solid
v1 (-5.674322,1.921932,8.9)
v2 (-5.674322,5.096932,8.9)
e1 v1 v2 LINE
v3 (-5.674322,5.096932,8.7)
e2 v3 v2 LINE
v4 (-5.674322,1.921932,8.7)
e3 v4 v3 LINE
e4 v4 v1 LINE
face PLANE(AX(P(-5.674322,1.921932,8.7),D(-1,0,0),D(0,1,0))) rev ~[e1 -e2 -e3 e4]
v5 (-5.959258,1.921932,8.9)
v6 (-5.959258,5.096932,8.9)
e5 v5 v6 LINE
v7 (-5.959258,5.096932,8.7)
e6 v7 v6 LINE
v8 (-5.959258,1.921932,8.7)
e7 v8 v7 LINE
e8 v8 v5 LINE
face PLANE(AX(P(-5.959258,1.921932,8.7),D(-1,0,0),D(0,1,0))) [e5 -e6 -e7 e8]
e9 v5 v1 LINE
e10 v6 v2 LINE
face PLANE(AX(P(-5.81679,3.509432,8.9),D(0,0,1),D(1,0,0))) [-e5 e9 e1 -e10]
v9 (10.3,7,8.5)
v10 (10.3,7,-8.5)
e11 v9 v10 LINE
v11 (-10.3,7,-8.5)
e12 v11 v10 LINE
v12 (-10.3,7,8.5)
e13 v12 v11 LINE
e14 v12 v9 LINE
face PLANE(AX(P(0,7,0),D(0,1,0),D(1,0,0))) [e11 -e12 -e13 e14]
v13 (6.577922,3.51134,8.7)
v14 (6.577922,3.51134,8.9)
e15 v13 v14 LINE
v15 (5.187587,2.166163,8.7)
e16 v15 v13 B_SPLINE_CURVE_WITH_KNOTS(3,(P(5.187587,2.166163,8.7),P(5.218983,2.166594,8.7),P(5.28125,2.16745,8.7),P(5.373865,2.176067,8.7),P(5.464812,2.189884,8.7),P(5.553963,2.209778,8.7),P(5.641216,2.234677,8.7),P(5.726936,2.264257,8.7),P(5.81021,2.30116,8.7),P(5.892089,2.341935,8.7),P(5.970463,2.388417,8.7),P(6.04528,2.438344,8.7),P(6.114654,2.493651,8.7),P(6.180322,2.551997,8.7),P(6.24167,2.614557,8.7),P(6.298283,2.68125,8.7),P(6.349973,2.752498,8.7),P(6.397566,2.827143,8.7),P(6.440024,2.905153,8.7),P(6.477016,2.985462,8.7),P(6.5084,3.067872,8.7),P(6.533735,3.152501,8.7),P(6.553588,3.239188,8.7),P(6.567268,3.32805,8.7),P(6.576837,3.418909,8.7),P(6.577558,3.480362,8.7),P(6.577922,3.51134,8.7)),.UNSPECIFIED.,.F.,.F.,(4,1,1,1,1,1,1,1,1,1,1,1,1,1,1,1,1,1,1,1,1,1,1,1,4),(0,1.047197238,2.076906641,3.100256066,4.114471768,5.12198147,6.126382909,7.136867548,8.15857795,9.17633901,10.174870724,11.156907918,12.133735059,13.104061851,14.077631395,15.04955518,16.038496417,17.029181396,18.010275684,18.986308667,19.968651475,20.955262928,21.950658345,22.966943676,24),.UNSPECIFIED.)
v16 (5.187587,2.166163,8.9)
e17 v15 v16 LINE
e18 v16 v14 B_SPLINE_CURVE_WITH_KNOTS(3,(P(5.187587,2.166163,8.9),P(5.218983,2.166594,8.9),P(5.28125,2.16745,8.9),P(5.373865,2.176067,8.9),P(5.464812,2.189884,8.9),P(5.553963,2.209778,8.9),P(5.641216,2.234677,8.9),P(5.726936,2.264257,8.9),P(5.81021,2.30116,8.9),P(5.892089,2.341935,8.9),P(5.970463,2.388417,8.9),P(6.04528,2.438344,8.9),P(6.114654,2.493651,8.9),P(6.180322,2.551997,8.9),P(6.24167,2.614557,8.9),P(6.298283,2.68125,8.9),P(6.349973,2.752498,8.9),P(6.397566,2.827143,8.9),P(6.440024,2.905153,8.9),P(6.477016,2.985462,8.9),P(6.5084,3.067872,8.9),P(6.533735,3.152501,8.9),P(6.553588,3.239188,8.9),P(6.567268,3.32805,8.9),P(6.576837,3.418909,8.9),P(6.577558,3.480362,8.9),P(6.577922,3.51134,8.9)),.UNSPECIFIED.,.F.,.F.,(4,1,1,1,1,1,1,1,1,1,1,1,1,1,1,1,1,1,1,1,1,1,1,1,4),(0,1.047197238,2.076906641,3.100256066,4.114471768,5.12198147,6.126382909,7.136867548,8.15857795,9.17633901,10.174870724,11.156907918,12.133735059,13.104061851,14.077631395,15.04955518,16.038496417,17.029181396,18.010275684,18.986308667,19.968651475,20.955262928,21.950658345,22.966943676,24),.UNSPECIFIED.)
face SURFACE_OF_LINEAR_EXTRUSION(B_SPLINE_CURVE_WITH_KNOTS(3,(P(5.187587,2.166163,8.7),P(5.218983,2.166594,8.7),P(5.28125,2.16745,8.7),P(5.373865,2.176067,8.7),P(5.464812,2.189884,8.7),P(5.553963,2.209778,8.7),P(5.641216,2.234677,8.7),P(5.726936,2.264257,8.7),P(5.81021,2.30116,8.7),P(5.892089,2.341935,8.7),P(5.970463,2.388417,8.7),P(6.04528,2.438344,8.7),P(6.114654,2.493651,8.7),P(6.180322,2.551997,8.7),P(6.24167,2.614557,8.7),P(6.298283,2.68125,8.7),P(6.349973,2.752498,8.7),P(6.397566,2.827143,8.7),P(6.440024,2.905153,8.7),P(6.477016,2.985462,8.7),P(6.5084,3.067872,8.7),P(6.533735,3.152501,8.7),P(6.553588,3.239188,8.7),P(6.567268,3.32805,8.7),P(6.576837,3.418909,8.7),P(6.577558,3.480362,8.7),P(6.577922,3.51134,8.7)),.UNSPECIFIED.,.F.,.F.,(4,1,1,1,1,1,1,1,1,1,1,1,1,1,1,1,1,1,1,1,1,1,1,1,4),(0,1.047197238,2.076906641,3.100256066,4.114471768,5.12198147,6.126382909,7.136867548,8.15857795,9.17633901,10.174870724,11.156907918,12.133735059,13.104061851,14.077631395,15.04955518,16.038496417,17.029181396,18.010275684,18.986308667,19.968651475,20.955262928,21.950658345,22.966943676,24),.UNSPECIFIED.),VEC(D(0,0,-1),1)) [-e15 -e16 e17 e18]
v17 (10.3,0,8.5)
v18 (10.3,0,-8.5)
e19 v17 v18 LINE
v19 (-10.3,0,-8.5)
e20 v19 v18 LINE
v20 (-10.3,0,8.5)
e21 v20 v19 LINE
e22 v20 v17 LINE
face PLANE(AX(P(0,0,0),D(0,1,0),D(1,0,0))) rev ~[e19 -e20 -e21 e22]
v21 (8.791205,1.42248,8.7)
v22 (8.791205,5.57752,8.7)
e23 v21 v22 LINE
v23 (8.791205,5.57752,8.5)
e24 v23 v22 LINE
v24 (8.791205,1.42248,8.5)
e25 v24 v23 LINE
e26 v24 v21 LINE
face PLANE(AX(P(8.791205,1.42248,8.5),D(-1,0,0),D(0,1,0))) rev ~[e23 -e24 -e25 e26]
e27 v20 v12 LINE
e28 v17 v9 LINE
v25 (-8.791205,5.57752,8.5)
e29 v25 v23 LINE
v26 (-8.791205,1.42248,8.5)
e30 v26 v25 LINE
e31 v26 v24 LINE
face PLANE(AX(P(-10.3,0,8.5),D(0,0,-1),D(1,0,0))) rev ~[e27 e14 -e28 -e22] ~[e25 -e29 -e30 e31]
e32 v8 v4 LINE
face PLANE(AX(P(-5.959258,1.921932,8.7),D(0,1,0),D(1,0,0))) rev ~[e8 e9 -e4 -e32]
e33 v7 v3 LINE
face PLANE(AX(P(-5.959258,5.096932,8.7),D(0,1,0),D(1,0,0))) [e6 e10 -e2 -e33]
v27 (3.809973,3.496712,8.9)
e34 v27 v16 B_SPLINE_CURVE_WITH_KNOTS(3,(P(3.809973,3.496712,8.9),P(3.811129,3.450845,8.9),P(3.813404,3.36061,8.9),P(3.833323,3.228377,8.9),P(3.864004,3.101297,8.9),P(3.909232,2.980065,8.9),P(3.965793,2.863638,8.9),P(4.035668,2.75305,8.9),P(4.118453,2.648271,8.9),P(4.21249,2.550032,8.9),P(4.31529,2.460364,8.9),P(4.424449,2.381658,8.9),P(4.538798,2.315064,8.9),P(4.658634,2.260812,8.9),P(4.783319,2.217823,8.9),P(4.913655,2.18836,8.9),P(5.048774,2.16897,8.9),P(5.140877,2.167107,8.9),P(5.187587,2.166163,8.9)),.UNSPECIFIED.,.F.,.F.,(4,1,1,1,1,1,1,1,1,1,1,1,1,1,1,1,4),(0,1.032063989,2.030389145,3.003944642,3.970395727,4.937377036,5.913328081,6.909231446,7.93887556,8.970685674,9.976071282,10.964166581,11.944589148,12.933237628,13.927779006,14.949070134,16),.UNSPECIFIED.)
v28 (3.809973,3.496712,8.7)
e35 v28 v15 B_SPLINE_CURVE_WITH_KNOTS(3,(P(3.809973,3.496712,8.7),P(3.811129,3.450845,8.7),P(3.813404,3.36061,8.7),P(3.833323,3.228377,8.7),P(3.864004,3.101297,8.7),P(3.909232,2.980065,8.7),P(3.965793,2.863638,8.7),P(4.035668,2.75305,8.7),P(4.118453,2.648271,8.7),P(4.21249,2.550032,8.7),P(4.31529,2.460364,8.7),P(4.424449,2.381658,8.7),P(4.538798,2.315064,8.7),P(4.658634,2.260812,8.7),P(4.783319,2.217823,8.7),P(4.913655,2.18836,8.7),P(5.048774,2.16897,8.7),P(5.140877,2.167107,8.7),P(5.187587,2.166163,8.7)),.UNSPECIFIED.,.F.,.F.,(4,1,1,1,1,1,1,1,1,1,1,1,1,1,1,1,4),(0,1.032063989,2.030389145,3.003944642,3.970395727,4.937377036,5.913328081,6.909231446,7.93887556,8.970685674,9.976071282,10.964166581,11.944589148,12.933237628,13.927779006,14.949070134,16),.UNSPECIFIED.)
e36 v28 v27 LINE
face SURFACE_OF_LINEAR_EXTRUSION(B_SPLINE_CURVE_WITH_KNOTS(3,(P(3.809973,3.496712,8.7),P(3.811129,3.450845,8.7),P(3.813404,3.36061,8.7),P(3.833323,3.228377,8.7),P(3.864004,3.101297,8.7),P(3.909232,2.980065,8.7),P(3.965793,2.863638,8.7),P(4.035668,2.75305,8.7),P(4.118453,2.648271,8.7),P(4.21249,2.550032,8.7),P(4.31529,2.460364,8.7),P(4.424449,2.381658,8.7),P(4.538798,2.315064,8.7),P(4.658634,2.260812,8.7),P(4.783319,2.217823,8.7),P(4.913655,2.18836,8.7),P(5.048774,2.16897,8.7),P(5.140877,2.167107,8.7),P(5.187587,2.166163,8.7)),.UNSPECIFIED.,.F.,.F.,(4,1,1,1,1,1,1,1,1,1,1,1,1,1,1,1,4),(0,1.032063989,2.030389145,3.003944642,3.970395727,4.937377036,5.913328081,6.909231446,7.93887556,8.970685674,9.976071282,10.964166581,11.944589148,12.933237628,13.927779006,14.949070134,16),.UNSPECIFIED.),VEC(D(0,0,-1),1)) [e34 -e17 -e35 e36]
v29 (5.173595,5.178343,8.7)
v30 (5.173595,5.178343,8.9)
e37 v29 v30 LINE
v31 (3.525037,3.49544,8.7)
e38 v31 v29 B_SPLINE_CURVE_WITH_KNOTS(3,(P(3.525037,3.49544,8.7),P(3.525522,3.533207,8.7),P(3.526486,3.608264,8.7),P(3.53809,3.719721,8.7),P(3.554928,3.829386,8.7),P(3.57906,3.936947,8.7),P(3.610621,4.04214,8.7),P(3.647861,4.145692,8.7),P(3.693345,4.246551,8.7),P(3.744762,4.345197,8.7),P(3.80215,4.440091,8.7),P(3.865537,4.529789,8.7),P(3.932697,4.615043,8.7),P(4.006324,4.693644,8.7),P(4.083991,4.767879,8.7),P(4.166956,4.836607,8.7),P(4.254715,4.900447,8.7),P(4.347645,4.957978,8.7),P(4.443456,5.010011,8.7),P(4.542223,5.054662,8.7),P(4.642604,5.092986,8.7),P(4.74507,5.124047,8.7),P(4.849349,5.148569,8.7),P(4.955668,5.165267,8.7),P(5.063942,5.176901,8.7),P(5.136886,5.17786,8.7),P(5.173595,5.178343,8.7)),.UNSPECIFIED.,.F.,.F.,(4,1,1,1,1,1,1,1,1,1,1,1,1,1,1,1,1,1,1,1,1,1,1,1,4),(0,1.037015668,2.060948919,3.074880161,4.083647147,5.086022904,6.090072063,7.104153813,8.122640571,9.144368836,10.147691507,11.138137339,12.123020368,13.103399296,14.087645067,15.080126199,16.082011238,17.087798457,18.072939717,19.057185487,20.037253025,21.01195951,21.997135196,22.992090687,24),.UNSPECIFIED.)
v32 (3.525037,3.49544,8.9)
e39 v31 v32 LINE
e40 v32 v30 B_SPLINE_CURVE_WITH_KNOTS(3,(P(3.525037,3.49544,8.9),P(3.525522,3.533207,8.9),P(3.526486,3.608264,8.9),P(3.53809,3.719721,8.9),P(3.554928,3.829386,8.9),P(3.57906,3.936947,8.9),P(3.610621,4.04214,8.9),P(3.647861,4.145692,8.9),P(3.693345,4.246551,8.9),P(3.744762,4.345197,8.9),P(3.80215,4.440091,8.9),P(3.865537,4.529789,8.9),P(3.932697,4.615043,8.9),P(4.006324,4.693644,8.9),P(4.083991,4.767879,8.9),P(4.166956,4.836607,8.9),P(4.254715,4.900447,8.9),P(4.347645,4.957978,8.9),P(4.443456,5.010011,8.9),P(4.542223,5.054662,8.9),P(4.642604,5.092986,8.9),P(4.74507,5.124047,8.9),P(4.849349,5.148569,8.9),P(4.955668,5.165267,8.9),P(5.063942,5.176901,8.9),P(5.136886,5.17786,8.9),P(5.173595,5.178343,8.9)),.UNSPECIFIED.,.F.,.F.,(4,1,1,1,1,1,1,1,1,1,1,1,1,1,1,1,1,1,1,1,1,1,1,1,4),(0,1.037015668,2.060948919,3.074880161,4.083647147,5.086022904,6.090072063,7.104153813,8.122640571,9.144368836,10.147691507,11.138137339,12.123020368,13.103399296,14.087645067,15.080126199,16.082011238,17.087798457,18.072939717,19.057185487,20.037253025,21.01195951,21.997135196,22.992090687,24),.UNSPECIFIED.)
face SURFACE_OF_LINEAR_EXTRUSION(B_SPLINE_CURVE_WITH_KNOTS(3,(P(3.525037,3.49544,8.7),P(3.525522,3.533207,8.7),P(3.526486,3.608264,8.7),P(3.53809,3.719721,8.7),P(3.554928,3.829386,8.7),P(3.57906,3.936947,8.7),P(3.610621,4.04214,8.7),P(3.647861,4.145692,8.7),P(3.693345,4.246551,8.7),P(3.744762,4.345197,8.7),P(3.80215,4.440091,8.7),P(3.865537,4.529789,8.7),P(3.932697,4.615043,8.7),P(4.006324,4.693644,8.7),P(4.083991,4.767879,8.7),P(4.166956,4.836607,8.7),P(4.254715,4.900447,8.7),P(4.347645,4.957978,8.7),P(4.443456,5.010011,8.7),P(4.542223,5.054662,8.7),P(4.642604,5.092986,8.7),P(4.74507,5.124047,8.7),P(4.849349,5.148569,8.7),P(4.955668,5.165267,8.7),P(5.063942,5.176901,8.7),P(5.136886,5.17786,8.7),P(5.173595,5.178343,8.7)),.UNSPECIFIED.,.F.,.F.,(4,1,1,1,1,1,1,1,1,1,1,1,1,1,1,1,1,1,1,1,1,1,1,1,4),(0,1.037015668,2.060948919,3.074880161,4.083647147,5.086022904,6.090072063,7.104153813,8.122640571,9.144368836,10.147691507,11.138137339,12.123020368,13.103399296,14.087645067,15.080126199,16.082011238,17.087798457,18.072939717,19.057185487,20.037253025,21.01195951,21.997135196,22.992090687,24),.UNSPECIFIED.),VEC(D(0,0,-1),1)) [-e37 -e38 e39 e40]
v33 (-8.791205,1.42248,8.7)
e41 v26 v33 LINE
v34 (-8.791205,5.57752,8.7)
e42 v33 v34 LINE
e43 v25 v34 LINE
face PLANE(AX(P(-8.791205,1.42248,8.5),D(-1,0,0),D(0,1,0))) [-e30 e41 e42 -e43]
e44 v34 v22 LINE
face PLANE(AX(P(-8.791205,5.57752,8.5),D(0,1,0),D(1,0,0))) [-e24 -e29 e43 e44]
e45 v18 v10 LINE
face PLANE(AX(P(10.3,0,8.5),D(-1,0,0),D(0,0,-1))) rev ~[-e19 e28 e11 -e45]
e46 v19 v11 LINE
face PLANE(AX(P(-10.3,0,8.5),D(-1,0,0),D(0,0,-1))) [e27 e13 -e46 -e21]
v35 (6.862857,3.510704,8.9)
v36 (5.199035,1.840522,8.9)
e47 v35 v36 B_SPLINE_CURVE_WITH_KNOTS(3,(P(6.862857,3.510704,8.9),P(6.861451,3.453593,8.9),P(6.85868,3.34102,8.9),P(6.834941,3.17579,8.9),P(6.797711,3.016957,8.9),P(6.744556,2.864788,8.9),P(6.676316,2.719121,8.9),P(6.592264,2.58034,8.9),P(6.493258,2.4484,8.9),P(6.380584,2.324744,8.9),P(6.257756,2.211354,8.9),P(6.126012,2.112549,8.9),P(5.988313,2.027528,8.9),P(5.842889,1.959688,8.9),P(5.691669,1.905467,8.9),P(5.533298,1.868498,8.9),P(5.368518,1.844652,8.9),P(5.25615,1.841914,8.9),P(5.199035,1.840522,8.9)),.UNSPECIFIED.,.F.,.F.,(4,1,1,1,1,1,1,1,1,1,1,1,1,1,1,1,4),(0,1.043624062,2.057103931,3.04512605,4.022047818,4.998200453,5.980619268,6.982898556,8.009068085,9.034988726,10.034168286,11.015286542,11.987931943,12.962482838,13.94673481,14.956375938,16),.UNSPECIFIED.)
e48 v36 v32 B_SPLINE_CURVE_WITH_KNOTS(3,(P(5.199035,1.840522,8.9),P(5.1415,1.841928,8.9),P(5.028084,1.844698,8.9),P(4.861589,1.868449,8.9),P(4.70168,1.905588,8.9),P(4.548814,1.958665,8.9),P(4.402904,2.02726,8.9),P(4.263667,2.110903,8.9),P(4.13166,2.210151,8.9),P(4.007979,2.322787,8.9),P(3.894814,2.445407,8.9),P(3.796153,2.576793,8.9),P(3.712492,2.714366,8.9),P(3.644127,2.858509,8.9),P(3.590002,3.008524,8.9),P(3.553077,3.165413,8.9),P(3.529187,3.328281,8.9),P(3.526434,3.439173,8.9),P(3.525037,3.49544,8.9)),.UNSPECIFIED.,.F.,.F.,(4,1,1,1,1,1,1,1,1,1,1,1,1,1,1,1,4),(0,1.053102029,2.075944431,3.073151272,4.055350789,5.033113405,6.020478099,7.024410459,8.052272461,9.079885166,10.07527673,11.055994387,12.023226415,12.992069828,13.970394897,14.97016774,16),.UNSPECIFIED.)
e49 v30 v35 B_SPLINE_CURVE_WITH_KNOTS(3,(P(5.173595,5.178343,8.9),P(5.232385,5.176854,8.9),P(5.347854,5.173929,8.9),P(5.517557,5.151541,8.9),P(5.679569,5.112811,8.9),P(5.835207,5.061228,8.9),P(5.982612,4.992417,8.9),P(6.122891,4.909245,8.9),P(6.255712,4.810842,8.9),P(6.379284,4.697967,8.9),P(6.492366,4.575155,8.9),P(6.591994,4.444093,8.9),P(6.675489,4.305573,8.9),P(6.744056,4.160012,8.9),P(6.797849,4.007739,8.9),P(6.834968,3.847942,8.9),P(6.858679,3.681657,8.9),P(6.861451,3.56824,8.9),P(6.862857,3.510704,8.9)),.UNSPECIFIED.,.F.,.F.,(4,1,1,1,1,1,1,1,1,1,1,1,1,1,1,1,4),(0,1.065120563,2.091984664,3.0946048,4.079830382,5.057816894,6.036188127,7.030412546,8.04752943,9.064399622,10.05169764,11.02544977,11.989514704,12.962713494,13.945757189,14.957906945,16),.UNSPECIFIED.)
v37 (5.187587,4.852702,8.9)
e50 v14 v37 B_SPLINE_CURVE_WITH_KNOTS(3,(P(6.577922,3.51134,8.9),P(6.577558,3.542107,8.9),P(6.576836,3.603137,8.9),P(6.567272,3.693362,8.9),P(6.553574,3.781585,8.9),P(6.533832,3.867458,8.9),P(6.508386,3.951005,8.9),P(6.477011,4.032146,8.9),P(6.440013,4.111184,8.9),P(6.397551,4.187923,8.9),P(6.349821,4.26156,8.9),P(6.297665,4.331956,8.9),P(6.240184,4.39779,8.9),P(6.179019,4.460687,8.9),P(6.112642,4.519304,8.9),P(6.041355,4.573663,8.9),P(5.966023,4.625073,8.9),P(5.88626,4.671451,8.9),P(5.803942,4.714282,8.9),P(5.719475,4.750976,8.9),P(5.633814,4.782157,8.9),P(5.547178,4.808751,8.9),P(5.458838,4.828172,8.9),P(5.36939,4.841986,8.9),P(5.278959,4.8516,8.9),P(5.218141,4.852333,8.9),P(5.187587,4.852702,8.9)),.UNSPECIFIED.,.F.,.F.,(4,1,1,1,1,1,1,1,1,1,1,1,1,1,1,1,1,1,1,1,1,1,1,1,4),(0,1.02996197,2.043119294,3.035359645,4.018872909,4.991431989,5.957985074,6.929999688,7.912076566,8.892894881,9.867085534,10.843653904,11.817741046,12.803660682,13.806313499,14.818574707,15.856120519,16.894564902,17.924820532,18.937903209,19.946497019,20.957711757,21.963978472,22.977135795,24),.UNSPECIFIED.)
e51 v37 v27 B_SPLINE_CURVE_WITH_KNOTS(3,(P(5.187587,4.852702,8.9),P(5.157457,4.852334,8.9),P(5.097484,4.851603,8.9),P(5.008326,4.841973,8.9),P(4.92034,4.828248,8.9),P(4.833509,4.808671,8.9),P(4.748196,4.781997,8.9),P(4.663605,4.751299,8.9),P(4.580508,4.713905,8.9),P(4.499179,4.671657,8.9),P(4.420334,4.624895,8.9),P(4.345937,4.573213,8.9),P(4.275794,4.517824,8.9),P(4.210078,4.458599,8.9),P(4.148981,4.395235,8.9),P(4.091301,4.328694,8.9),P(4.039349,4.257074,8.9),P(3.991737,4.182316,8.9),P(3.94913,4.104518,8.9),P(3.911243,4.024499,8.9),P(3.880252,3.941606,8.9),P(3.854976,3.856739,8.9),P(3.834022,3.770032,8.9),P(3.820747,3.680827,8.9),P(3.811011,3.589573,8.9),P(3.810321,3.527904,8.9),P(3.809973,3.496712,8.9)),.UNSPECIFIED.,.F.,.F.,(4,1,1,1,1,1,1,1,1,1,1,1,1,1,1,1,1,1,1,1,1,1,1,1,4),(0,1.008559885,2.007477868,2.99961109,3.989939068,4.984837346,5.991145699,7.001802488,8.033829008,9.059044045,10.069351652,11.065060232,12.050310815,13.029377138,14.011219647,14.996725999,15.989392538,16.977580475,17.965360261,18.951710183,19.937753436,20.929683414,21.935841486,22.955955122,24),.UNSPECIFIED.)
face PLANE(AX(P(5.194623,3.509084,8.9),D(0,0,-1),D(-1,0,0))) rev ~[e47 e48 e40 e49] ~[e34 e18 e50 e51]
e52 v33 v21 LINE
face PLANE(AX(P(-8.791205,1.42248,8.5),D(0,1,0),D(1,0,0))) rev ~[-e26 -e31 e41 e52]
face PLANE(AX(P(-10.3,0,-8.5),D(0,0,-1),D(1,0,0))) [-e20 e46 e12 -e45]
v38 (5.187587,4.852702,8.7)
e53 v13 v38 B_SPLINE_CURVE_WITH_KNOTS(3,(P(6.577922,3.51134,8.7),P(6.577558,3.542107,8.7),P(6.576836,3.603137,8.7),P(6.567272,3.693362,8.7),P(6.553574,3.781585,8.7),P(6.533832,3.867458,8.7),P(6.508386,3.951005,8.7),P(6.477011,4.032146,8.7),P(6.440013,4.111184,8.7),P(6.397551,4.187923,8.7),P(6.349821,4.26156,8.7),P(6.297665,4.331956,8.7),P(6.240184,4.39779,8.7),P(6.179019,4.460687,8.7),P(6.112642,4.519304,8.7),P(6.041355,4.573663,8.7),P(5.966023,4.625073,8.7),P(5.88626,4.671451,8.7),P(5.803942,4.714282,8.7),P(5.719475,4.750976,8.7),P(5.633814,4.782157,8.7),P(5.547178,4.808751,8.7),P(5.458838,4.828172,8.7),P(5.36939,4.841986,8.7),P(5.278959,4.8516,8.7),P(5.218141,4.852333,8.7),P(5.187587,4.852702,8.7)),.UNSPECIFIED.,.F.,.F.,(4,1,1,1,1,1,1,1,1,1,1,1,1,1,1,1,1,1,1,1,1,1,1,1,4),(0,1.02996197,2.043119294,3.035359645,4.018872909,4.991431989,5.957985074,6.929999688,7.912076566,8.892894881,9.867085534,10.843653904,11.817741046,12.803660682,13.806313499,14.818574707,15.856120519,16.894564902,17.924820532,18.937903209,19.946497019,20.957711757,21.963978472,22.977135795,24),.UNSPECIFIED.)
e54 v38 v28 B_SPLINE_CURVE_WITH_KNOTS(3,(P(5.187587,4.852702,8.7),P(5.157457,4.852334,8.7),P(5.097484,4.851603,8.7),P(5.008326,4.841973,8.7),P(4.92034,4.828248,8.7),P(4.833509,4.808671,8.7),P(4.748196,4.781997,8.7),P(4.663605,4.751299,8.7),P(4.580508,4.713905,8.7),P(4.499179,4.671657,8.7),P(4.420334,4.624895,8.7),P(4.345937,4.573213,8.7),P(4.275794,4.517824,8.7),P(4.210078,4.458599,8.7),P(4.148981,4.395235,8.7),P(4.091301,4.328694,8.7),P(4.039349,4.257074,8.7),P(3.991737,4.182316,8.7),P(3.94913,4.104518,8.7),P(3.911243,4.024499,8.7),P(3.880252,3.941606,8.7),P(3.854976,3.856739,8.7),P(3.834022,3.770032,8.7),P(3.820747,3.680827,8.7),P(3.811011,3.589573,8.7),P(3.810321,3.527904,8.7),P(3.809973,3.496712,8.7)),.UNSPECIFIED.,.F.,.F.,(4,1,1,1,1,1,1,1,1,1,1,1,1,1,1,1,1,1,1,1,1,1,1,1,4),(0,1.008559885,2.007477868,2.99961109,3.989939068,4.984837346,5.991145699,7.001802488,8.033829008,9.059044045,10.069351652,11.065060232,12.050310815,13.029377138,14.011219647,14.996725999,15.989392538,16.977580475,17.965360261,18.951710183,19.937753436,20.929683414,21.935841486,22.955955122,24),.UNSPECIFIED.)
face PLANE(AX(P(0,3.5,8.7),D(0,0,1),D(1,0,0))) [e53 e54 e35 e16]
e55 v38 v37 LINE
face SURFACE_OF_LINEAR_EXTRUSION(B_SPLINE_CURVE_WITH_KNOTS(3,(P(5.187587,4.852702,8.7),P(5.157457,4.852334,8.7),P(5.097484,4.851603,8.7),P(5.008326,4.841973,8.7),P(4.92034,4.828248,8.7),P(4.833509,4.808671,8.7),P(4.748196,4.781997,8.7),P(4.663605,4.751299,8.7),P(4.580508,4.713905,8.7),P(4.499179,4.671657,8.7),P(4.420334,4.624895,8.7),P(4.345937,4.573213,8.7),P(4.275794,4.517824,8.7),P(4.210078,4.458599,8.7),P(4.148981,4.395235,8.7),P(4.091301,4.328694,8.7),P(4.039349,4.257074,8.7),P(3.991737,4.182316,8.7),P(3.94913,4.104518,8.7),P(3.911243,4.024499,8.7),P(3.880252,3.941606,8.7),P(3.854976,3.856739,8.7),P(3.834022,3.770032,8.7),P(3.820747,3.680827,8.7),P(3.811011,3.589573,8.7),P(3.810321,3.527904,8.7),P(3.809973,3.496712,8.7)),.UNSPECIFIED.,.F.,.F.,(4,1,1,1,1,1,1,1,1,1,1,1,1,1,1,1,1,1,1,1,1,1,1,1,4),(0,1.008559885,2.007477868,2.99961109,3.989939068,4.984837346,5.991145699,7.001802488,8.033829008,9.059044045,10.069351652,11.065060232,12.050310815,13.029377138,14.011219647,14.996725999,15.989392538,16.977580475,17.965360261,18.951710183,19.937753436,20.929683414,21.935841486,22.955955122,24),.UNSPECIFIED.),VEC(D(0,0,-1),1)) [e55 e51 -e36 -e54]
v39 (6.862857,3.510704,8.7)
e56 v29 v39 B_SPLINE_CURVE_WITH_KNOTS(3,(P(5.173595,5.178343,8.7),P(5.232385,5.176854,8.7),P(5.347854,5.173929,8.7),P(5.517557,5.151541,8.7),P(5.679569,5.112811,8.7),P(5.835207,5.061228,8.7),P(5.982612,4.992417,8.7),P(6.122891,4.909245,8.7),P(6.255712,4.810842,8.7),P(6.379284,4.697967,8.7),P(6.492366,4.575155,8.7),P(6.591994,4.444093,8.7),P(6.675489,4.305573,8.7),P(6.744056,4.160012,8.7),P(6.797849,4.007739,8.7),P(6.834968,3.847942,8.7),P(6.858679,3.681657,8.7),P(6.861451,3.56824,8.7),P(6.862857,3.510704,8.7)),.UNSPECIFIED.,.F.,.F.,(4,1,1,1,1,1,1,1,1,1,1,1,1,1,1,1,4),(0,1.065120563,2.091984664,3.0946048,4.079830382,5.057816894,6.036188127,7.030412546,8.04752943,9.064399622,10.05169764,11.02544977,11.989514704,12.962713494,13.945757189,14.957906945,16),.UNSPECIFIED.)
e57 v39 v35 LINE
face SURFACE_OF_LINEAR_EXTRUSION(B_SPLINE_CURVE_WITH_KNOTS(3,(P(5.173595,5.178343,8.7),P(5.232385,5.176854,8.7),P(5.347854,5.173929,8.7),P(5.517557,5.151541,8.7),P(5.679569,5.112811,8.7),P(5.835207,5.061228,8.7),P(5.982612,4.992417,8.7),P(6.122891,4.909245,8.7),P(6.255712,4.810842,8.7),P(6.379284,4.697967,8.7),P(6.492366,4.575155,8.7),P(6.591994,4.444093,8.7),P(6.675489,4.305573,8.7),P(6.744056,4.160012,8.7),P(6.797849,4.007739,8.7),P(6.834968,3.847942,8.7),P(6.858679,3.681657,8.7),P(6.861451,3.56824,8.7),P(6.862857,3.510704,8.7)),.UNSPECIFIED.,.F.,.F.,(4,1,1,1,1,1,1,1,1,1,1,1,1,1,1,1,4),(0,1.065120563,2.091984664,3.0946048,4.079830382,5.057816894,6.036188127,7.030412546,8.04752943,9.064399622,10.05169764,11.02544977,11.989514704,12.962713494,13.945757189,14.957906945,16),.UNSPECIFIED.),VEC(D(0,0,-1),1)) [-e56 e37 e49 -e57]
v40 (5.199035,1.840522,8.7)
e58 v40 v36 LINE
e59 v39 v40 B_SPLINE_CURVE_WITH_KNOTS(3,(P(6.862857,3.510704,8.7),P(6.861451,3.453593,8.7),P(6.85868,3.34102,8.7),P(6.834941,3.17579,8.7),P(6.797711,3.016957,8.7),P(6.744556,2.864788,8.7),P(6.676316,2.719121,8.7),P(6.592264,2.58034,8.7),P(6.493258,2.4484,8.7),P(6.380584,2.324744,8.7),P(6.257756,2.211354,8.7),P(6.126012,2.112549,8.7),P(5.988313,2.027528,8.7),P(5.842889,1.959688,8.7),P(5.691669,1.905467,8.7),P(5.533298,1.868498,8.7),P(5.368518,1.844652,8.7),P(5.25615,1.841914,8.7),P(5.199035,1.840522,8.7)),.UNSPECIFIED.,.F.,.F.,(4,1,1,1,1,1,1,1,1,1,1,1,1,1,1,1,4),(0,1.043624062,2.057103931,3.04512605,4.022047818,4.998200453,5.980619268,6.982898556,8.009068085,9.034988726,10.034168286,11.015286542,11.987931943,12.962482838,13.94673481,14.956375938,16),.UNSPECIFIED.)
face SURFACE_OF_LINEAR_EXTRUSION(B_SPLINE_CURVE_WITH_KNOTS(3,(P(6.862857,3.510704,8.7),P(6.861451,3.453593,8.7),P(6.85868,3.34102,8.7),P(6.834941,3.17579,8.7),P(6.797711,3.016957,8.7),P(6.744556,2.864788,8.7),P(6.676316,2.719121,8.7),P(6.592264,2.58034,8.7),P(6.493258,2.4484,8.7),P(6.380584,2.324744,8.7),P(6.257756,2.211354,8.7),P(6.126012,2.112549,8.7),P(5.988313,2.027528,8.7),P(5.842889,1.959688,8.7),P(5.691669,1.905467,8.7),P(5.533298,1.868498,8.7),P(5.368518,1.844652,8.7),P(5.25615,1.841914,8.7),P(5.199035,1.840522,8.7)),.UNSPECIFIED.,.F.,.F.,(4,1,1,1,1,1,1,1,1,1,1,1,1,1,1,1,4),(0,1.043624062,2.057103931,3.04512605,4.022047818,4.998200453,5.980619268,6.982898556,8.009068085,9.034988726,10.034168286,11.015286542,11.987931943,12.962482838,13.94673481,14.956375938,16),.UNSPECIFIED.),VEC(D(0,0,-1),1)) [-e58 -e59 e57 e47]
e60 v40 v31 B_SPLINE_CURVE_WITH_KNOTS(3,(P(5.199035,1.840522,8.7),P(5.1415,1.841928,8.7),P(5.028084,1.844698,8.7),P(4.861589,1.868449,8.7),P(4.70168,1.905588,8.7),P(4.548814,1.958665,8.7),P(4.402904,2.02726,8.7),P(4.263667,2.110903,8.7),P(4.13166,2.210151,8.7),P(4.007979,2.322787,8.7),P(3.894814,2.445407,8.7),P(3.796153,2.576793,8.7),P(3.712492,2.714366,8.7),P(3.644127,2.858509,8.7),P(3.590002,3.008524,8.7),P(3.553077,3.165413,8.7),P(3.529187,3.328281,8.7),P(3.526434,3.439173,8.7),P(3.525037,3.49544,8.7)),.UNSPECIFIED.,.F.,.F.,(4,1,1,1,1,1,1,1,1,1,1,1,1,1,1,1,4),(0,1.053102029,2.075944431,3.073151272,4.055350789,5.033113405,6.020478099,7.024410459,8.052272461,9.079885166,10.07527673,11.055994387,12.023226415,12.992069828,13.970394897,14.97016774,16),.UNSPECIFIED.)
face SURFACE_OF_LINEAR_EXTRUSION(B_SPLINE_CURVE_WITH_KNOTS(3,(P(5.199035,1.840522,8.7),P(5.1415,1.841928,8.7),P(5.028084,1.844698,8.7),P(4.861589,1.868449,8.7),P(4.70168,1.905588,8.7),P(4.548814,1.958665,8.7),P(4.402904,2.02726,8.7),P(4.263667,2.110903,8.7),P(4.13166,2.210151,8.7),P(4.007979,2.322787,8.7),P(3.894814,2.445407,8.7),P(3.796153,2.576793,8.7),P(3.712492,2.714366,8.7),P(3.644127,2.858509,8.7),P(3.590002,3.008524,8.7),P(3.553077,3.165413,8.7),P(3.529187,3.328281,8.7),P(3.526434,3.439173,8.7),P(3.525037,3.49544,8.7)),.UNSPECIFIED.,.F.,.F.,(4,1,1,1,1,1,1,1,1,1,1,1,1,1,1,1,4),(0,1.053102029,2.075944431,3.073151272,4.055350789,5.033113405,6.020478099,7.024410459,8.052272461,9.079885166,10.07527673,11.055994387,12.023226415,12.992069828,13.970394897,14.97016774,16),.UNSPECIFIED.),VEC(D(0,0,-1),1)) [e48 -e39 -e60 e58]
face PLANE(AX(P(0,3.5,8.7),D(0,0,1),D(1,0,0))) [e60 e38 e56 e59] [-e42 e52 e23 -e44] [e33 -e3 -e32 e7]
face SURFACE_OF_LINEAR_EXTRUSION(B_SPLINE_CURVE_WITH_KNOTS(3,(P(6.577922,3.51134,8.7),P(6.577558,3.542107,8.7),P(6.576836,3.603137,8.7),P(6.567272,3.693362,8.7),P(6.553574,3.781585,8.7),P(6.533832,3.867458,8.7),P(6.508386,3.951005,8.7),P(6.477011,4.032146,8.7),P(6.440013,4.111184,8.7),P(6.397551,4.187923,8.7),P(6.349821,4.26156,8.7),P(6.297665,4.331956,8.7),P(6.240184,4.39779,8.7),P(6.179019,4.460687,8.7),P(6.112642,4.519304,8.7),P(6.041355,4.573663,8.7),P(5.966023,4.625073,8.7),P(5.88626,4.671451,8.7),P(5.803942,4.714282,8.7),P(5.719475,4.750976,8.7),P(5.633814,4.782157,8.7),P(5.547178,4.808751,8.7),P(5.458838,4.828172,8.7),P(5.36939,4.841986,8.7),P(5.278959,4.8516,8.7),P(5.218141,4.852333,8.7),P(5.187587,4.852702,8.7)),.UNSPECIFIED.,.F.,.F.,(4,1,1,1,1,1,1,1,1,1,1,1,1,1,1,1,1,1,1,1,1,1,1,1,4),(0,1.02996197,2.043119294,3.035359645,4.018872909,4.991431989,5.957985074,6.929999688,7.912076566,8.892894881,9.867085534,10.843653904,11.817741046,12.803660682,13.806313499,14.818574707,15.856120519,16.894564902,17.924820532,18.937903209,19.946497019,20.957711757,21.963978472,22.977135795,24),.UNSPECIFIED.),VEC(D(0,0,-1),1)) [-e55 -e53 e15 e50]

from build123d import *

# Parameters (mm, degrees)
SKETCH1_W           = 20.6
SKETCH1_H           = 17
BOSS_EXTRUDE1_DEPTH = 7
SKETCH2_W           = 17.582410578
SKETCH2_H           = 4.15503942
BOSS_EXTRUDE2_DEPTH = 0.2
SKETCH3_W           = 0.284935897
SKETCH3_H           = 3.175
BOSS_EXTRUDE3_DEPTH = 0.2


with BuildPart() as part:
    # Sketch1 → Boss-Extrude1 (new body)
    with BuildSketch(Plane(origin=(0, 0, 0), x_dir=(1, 0, 0), z_dir=(0, 1, 0))):
        Rectangle(SKETCH1_W, SKETCH1_H)
    extrude(amount=BOSS_EXTRUDE1_DEPTH)

    # Sketch2 → Boss-Extrude2 (add)
    with BuildSketch(Plane.XY.offset(8.5)):
        with Locations((0, 3.5)):
            Rectangle(SKETCH2_W, SKETCH2_H)
    extrude(amount=BOSS_EXTRUDE2_DEPTH)

    # Sketch3 → Boss-Extrude3 (add)
    # profile 1 of 2: a face of its own
    with BuildSketch(Plane.XY.offset(8.7)):
        with Locations((-5.816789994, 3.509432337)):
            Rectangle(SKETCH3_W, SKETCH3_H)
    # profile 2 of 2: a face of its own
    with BuildSketch(Plane.XY.offset(8.7)):
        with BuildLine():
            add(Edge.make_bspline(
                [(5.173594622, 5.178342594), (5.232384832, 5.176853538), (5.347853656, 5.173928908), (5.517557313, 5.151541436), (5.679568578, 5.112810618), (5.835207204, 5.061227769), (5.982611547, 4.992417005), (6.122891114, 4.909245478), (6.255712135, 4.810841833), (6.379284388, 4.697966749), (6.492366051, 4.575154616), (6.591993819, 4.444092511), (6.675489328, 4.305572884), (6.744056435, 4.160011987), (6.797848745, 4.007739016), (6.834968163, 3.847942171), (6.8586792, 3.681656816), (6.861451226, 3.568239589), (6.862857443, 3.510704373)],
                knots=[0, 0, 0, 0, 1.065120563, 2.091984664, 3.0946048, 4.079830382, 5.057816894, 6.036188127, 7.030412546, 8.04752943, 9.064399622, 10.05169764, 11.02544977, 11.989514704, 12.962713494, 13.945757189, 14.957906945, 16, 16, 16, 16], degree=3))
            add(Edge.make_bspline(
                [(6.862857443, 3.510704373), (6.861451432, 3.453592975), (6.858680023, 3.341019794), (6.834941204, 3.175789669), (6.797711154, 3.016957394), (6.744555969, 2.864788124), (6.676315714, 2.719121334), (6.592264237, 2.580340311), (6.493257568, 2.448399559), (6.38058421, 2.324744499), (6.257756122, 2.211353936), (6.126011523, 2.112548956), (5.988313297, 2.027527786), (5.84288949, 1.95968831), (5.691668742, 1.905466639), (5.533297635, 1.868498182), (5.368518261, 1.844652079), (5.256149565, 1.841913853), (5.199035327, 1.840522081)],
                knots=[0, 0, 0, 0, 1.043624062, 2.057103931, 3.04512605, 4.022047818, 4.998200453, 5.980619268, 6.982898556, 8.009068085, 9.034988726, 10.034168286, 11.015286542, 11.987931943, 12.962482838, 13.94673481, 14.956375938, 16, 16, 16, 16], degree=3))
            add(Edge.make_bspline(
                [(5.199035327, 1.840522081), (5.141500409, 1.841927596), (5.028083771, 1.844698241), (4.86158946, 1.868448515), (4.701680364, 1.905588127), (4.548813774, 1.958664544), (4.402904445, 2.027260174), (4.263667012, 2.110902718), (4.131660357, 2.210150625), (4.007978916, 2.322787446), (3.894813572, 2.445407354), (3.796153281, 2.576792714), (3.712491928, 2.714365878), (3.64412662, 2.858508632), (3.590002431, 3.008524155), (3.553077346, 3.165413131), (3.529186876, 3.328281112), (3.526433836, 3.439172884), (3.52503693, 3.49543995)],
                knots=[0, 0, 0, 0, 1.053102029, 2.075944431, 3.073151272, 4.055350789, 5.033113405, 6.020478099, 7.024410459, 8.052272461, 9.079885166, 10.07527673, 11.055994387, 12.023226415, 12.992069828, 13.970394897, 14.97016774, 16, 16, 16, 16], degree=3))
            add(Edge.make_bspline(
                [(3.52503693, 3.49543995), (3.525521921, 3.533206728), (3.526485784, 3.60826384), (3.538089676, 3.719721399), (3.554927791, 3.829386495), (3.579059526, 3.936947284), (3.610620538, 4.042140463), (3.647860591, 4.145691512), (3.693344594, 4.246551033), (3.744762039, 4.345196824), (3.802149536, 4.440091139), (3.865536823, 4.529789046), (3.932697479, 4.615043236), (4.006324272, 4.693644447), (4.083990618, 4.767879264), (4.166956433, 4.836606871), (4.254715469, 4.900447005), (4.347645342, 4.957978315), (4.443456206, 5.010011244), (4.542222997, 5.054662494), (4.642604315, 5.092985707), (4.745070317, 5.124047027), (4.849348903, 5.148568946), (4.955667665, 5.165267045), (5.063941902, 5.176900534), (5.136886455, 5.177859839), (5.173594622, 5.178342594)],
                knots=[0, 0, 0, 0, 1.037015668, 2.060948919, 3.074880161, 4.083647147, 5.086022904, 6.090072063, 7.104153813, 8.122640571, 9.144368836, 10.147691507, 11.138137339, 12.123020368, 13.103399296, 14.087645067, 15.080126199, 16.082011238, 17.087798457, 18.072939717, 19.057185487, 20.037253025, 21.01195951, 21.997135196, 22.992090687, 24, 24, 24, 24], degree=3))
        make_face()
        with BuildLine():
            add(Edge.make_bspline(
                [(5.18758701, 4.852701568), (5.157456592, 4.852334275), (5.097483806, 4.8516032), (5.008325691, 4.841973229), (4.920340151, 4.828248258), (4.833509015, 4.808670736), (4.748195596, 4.78199706), (4.663604668, 4.751298521), (4.580507612, 4.713905103), (4.499178756, 4.671657007), (4.420334366, 4.624894772), (4.34593713, 4.573213241), (4.275794445, 4.517824409), (4.210078054, 4.458599014), (4.148980919, 4.395235447), (4.091300511, 4.328694308), (4.039348819, 4.257073664), (3.991736903, 4.182315652), (3.949130362, 4.104517646), (3.911243219, 4.0244987), (3.880251582, 3.941606084), (3.854976427, 3.856739098), (3.834021598, 3.770032153), (3.820746539, 3.68082749), (3.811010755, 3.589573352), (3.810321467, 3.527904099), (3.809972827, 3.496711985)],
                knots=[0, 0, 0, 0, 1.008559885, 2.007477868, 2.99961109, 3.989939068, 4.984837346, 5.991145699, 7.001802488, 8.033829008, 9.059044045, 10.069351652, 11.065060232, 12.050310815, 13.029377138, 14.011219647, 14.996725999, 15.989392538, 16.977580475, 17.965360261, 18.951710183, 19.937753436, 20.929683414, 21.935841486, 22.955955122, 24, 24, 24, 24], degree=3))
            add(Edge.make_bspline(
                [(3.809972827, 3.496711985), (3.811129309, 3.450844827), (3.813404467, 3.360609939), (3.83332312, 3.228377409), (3.864004482, 3.10129732), (3.909232236, 2.980065017), (3.965793151, 2.863638418), (4.035667544, 2.753050351), (4.118452572, 2.648270929), (4.212490199, 2.55003165), (4.315290083, 2.460364384), (4.42444906, 2.381657578), (4.538797689, 2.315063994), (4.658634166, 2.26081225), (4.783318719, 2.217822988), (4.913654784, 2.18836023), (5.048774129, 2.168969638), (5.140876938, 2.167107495), (5.18758701, 2.166163107)],
                knots=[0, 0, 0, 0, 1.032063989, 2.030389145, 3.003944642, 3.970395727, 4.937377036, 5.913328081, 6.909231446, 7.93887556, 8.970685674, 9.976071282, 10.964166581, 11.944589148, 12.933237628, 13.927779006, 14.949070134, 16, 16, 16, 16], degree=3))
            add(Edge.make_bspline(
                [(5.18758701, 2.166163107), (5.218982772, 2.166594457), (5.281249998, 2.167449954), (5.373865222, 2.176066611), (5.464811928, 2.189884093), (5.553962553, 2.20977833), (5.641215918, 2.234676868), (5.726936204, 2.264256735), (5.810210367, 2.301160398), (5.892088934, 2.341934612), (5.970462668, 2.388416755), (6.045279758, 2.438344219), (6.114654397, 2.493651468), (6.180321626, 2.551996912), (6.241669601, 2.614556974), (6.298283465, 2.681250318), (6.349972585, 2.752497914), (6.397566421, 2.827142532), (6.440023667, 2.905153419), (6.477016135, 2.985462484), (6.508399755, 3.067871976), (6.533734898, 3.152500758), (6.553588139, 3.2391881), (6.56726778, 3.328050071), (6.576836721, 3.418908903), (6.57755797, 3.480362258), (6.577921545, 3.51134039)],
                knots=[0, 0, 0, 0, 1.047197238, 2.076906641, 3.100256066, 4.114471768, 5.12198147, 6.126382909, 7.136867548, 8.15857795, 9.17633901, 10.174870724, 11.156907918, 12.133735059, 13.104061851, 14.077631395, 15.04955518, 16.038496417, 17.029181396, 18.010275684, 18.986308667, 19.968651475, 20.955262928, 21.950658345, 22.966943676, 24, 24, 24, 24], degree=3))
            add(Edge.make_bspline(
                [(6.577921545, 3.51134039), (6.577557678, 3.542106598), (6.576835882, 3.603137038), (6.567272351, 3.693362208), (6.553573686, 3.781584765), (6.533831801, 3.867458357), (6.508386304, 3.951004876), (6.477010655, 4.032145855), (6.440012562, 4.111183575), (6.397550815, 4.187922687), (6.349820747, 4.261559771), (6.297665255, 4.331956245), (6.240183832, 4.397790089), (6.179018795, 4.460686561), (6.112642349, 4.519304218), (6.041355168, 4.573662505), (5.966022689, 4.625073261), (5.886260125, 4.671451449), (5.803942396, 4.714281503), (5.719474734, 4.750976342), (5.633814051, 4.782156764), (5.547178177, 4.80875144), (5.458837904, 4.828171581), (5.369390145, 4.841985598), (5.278958653, 4.851599848), (5.218140875, 4.852333163), (5.18758701, 4.852701568)],
                knots=[0, 0, 0, 0, 1.02996197, 2.043119294, 3.035359645, 4.018872909, 4.991431989, 5.957985074, 6.929999688, 7.912076566, 8.892894881, 9.867085534, 10.843653904, 11.817741046, 12.803660682, 13.806313499, 14.818574707, 15.856120519, 16.894564902, 17.924820532, 18.937903209, 19.946497019, 20.957711757, 21.963978472, 22.977135795, 24, 24, 24, 24], degree=3))
        make_face(mode=Mode.SUBTRACT)
    extrude(amount=BOSS_EXTRUDE3_DEPTH)


solid = part.part
